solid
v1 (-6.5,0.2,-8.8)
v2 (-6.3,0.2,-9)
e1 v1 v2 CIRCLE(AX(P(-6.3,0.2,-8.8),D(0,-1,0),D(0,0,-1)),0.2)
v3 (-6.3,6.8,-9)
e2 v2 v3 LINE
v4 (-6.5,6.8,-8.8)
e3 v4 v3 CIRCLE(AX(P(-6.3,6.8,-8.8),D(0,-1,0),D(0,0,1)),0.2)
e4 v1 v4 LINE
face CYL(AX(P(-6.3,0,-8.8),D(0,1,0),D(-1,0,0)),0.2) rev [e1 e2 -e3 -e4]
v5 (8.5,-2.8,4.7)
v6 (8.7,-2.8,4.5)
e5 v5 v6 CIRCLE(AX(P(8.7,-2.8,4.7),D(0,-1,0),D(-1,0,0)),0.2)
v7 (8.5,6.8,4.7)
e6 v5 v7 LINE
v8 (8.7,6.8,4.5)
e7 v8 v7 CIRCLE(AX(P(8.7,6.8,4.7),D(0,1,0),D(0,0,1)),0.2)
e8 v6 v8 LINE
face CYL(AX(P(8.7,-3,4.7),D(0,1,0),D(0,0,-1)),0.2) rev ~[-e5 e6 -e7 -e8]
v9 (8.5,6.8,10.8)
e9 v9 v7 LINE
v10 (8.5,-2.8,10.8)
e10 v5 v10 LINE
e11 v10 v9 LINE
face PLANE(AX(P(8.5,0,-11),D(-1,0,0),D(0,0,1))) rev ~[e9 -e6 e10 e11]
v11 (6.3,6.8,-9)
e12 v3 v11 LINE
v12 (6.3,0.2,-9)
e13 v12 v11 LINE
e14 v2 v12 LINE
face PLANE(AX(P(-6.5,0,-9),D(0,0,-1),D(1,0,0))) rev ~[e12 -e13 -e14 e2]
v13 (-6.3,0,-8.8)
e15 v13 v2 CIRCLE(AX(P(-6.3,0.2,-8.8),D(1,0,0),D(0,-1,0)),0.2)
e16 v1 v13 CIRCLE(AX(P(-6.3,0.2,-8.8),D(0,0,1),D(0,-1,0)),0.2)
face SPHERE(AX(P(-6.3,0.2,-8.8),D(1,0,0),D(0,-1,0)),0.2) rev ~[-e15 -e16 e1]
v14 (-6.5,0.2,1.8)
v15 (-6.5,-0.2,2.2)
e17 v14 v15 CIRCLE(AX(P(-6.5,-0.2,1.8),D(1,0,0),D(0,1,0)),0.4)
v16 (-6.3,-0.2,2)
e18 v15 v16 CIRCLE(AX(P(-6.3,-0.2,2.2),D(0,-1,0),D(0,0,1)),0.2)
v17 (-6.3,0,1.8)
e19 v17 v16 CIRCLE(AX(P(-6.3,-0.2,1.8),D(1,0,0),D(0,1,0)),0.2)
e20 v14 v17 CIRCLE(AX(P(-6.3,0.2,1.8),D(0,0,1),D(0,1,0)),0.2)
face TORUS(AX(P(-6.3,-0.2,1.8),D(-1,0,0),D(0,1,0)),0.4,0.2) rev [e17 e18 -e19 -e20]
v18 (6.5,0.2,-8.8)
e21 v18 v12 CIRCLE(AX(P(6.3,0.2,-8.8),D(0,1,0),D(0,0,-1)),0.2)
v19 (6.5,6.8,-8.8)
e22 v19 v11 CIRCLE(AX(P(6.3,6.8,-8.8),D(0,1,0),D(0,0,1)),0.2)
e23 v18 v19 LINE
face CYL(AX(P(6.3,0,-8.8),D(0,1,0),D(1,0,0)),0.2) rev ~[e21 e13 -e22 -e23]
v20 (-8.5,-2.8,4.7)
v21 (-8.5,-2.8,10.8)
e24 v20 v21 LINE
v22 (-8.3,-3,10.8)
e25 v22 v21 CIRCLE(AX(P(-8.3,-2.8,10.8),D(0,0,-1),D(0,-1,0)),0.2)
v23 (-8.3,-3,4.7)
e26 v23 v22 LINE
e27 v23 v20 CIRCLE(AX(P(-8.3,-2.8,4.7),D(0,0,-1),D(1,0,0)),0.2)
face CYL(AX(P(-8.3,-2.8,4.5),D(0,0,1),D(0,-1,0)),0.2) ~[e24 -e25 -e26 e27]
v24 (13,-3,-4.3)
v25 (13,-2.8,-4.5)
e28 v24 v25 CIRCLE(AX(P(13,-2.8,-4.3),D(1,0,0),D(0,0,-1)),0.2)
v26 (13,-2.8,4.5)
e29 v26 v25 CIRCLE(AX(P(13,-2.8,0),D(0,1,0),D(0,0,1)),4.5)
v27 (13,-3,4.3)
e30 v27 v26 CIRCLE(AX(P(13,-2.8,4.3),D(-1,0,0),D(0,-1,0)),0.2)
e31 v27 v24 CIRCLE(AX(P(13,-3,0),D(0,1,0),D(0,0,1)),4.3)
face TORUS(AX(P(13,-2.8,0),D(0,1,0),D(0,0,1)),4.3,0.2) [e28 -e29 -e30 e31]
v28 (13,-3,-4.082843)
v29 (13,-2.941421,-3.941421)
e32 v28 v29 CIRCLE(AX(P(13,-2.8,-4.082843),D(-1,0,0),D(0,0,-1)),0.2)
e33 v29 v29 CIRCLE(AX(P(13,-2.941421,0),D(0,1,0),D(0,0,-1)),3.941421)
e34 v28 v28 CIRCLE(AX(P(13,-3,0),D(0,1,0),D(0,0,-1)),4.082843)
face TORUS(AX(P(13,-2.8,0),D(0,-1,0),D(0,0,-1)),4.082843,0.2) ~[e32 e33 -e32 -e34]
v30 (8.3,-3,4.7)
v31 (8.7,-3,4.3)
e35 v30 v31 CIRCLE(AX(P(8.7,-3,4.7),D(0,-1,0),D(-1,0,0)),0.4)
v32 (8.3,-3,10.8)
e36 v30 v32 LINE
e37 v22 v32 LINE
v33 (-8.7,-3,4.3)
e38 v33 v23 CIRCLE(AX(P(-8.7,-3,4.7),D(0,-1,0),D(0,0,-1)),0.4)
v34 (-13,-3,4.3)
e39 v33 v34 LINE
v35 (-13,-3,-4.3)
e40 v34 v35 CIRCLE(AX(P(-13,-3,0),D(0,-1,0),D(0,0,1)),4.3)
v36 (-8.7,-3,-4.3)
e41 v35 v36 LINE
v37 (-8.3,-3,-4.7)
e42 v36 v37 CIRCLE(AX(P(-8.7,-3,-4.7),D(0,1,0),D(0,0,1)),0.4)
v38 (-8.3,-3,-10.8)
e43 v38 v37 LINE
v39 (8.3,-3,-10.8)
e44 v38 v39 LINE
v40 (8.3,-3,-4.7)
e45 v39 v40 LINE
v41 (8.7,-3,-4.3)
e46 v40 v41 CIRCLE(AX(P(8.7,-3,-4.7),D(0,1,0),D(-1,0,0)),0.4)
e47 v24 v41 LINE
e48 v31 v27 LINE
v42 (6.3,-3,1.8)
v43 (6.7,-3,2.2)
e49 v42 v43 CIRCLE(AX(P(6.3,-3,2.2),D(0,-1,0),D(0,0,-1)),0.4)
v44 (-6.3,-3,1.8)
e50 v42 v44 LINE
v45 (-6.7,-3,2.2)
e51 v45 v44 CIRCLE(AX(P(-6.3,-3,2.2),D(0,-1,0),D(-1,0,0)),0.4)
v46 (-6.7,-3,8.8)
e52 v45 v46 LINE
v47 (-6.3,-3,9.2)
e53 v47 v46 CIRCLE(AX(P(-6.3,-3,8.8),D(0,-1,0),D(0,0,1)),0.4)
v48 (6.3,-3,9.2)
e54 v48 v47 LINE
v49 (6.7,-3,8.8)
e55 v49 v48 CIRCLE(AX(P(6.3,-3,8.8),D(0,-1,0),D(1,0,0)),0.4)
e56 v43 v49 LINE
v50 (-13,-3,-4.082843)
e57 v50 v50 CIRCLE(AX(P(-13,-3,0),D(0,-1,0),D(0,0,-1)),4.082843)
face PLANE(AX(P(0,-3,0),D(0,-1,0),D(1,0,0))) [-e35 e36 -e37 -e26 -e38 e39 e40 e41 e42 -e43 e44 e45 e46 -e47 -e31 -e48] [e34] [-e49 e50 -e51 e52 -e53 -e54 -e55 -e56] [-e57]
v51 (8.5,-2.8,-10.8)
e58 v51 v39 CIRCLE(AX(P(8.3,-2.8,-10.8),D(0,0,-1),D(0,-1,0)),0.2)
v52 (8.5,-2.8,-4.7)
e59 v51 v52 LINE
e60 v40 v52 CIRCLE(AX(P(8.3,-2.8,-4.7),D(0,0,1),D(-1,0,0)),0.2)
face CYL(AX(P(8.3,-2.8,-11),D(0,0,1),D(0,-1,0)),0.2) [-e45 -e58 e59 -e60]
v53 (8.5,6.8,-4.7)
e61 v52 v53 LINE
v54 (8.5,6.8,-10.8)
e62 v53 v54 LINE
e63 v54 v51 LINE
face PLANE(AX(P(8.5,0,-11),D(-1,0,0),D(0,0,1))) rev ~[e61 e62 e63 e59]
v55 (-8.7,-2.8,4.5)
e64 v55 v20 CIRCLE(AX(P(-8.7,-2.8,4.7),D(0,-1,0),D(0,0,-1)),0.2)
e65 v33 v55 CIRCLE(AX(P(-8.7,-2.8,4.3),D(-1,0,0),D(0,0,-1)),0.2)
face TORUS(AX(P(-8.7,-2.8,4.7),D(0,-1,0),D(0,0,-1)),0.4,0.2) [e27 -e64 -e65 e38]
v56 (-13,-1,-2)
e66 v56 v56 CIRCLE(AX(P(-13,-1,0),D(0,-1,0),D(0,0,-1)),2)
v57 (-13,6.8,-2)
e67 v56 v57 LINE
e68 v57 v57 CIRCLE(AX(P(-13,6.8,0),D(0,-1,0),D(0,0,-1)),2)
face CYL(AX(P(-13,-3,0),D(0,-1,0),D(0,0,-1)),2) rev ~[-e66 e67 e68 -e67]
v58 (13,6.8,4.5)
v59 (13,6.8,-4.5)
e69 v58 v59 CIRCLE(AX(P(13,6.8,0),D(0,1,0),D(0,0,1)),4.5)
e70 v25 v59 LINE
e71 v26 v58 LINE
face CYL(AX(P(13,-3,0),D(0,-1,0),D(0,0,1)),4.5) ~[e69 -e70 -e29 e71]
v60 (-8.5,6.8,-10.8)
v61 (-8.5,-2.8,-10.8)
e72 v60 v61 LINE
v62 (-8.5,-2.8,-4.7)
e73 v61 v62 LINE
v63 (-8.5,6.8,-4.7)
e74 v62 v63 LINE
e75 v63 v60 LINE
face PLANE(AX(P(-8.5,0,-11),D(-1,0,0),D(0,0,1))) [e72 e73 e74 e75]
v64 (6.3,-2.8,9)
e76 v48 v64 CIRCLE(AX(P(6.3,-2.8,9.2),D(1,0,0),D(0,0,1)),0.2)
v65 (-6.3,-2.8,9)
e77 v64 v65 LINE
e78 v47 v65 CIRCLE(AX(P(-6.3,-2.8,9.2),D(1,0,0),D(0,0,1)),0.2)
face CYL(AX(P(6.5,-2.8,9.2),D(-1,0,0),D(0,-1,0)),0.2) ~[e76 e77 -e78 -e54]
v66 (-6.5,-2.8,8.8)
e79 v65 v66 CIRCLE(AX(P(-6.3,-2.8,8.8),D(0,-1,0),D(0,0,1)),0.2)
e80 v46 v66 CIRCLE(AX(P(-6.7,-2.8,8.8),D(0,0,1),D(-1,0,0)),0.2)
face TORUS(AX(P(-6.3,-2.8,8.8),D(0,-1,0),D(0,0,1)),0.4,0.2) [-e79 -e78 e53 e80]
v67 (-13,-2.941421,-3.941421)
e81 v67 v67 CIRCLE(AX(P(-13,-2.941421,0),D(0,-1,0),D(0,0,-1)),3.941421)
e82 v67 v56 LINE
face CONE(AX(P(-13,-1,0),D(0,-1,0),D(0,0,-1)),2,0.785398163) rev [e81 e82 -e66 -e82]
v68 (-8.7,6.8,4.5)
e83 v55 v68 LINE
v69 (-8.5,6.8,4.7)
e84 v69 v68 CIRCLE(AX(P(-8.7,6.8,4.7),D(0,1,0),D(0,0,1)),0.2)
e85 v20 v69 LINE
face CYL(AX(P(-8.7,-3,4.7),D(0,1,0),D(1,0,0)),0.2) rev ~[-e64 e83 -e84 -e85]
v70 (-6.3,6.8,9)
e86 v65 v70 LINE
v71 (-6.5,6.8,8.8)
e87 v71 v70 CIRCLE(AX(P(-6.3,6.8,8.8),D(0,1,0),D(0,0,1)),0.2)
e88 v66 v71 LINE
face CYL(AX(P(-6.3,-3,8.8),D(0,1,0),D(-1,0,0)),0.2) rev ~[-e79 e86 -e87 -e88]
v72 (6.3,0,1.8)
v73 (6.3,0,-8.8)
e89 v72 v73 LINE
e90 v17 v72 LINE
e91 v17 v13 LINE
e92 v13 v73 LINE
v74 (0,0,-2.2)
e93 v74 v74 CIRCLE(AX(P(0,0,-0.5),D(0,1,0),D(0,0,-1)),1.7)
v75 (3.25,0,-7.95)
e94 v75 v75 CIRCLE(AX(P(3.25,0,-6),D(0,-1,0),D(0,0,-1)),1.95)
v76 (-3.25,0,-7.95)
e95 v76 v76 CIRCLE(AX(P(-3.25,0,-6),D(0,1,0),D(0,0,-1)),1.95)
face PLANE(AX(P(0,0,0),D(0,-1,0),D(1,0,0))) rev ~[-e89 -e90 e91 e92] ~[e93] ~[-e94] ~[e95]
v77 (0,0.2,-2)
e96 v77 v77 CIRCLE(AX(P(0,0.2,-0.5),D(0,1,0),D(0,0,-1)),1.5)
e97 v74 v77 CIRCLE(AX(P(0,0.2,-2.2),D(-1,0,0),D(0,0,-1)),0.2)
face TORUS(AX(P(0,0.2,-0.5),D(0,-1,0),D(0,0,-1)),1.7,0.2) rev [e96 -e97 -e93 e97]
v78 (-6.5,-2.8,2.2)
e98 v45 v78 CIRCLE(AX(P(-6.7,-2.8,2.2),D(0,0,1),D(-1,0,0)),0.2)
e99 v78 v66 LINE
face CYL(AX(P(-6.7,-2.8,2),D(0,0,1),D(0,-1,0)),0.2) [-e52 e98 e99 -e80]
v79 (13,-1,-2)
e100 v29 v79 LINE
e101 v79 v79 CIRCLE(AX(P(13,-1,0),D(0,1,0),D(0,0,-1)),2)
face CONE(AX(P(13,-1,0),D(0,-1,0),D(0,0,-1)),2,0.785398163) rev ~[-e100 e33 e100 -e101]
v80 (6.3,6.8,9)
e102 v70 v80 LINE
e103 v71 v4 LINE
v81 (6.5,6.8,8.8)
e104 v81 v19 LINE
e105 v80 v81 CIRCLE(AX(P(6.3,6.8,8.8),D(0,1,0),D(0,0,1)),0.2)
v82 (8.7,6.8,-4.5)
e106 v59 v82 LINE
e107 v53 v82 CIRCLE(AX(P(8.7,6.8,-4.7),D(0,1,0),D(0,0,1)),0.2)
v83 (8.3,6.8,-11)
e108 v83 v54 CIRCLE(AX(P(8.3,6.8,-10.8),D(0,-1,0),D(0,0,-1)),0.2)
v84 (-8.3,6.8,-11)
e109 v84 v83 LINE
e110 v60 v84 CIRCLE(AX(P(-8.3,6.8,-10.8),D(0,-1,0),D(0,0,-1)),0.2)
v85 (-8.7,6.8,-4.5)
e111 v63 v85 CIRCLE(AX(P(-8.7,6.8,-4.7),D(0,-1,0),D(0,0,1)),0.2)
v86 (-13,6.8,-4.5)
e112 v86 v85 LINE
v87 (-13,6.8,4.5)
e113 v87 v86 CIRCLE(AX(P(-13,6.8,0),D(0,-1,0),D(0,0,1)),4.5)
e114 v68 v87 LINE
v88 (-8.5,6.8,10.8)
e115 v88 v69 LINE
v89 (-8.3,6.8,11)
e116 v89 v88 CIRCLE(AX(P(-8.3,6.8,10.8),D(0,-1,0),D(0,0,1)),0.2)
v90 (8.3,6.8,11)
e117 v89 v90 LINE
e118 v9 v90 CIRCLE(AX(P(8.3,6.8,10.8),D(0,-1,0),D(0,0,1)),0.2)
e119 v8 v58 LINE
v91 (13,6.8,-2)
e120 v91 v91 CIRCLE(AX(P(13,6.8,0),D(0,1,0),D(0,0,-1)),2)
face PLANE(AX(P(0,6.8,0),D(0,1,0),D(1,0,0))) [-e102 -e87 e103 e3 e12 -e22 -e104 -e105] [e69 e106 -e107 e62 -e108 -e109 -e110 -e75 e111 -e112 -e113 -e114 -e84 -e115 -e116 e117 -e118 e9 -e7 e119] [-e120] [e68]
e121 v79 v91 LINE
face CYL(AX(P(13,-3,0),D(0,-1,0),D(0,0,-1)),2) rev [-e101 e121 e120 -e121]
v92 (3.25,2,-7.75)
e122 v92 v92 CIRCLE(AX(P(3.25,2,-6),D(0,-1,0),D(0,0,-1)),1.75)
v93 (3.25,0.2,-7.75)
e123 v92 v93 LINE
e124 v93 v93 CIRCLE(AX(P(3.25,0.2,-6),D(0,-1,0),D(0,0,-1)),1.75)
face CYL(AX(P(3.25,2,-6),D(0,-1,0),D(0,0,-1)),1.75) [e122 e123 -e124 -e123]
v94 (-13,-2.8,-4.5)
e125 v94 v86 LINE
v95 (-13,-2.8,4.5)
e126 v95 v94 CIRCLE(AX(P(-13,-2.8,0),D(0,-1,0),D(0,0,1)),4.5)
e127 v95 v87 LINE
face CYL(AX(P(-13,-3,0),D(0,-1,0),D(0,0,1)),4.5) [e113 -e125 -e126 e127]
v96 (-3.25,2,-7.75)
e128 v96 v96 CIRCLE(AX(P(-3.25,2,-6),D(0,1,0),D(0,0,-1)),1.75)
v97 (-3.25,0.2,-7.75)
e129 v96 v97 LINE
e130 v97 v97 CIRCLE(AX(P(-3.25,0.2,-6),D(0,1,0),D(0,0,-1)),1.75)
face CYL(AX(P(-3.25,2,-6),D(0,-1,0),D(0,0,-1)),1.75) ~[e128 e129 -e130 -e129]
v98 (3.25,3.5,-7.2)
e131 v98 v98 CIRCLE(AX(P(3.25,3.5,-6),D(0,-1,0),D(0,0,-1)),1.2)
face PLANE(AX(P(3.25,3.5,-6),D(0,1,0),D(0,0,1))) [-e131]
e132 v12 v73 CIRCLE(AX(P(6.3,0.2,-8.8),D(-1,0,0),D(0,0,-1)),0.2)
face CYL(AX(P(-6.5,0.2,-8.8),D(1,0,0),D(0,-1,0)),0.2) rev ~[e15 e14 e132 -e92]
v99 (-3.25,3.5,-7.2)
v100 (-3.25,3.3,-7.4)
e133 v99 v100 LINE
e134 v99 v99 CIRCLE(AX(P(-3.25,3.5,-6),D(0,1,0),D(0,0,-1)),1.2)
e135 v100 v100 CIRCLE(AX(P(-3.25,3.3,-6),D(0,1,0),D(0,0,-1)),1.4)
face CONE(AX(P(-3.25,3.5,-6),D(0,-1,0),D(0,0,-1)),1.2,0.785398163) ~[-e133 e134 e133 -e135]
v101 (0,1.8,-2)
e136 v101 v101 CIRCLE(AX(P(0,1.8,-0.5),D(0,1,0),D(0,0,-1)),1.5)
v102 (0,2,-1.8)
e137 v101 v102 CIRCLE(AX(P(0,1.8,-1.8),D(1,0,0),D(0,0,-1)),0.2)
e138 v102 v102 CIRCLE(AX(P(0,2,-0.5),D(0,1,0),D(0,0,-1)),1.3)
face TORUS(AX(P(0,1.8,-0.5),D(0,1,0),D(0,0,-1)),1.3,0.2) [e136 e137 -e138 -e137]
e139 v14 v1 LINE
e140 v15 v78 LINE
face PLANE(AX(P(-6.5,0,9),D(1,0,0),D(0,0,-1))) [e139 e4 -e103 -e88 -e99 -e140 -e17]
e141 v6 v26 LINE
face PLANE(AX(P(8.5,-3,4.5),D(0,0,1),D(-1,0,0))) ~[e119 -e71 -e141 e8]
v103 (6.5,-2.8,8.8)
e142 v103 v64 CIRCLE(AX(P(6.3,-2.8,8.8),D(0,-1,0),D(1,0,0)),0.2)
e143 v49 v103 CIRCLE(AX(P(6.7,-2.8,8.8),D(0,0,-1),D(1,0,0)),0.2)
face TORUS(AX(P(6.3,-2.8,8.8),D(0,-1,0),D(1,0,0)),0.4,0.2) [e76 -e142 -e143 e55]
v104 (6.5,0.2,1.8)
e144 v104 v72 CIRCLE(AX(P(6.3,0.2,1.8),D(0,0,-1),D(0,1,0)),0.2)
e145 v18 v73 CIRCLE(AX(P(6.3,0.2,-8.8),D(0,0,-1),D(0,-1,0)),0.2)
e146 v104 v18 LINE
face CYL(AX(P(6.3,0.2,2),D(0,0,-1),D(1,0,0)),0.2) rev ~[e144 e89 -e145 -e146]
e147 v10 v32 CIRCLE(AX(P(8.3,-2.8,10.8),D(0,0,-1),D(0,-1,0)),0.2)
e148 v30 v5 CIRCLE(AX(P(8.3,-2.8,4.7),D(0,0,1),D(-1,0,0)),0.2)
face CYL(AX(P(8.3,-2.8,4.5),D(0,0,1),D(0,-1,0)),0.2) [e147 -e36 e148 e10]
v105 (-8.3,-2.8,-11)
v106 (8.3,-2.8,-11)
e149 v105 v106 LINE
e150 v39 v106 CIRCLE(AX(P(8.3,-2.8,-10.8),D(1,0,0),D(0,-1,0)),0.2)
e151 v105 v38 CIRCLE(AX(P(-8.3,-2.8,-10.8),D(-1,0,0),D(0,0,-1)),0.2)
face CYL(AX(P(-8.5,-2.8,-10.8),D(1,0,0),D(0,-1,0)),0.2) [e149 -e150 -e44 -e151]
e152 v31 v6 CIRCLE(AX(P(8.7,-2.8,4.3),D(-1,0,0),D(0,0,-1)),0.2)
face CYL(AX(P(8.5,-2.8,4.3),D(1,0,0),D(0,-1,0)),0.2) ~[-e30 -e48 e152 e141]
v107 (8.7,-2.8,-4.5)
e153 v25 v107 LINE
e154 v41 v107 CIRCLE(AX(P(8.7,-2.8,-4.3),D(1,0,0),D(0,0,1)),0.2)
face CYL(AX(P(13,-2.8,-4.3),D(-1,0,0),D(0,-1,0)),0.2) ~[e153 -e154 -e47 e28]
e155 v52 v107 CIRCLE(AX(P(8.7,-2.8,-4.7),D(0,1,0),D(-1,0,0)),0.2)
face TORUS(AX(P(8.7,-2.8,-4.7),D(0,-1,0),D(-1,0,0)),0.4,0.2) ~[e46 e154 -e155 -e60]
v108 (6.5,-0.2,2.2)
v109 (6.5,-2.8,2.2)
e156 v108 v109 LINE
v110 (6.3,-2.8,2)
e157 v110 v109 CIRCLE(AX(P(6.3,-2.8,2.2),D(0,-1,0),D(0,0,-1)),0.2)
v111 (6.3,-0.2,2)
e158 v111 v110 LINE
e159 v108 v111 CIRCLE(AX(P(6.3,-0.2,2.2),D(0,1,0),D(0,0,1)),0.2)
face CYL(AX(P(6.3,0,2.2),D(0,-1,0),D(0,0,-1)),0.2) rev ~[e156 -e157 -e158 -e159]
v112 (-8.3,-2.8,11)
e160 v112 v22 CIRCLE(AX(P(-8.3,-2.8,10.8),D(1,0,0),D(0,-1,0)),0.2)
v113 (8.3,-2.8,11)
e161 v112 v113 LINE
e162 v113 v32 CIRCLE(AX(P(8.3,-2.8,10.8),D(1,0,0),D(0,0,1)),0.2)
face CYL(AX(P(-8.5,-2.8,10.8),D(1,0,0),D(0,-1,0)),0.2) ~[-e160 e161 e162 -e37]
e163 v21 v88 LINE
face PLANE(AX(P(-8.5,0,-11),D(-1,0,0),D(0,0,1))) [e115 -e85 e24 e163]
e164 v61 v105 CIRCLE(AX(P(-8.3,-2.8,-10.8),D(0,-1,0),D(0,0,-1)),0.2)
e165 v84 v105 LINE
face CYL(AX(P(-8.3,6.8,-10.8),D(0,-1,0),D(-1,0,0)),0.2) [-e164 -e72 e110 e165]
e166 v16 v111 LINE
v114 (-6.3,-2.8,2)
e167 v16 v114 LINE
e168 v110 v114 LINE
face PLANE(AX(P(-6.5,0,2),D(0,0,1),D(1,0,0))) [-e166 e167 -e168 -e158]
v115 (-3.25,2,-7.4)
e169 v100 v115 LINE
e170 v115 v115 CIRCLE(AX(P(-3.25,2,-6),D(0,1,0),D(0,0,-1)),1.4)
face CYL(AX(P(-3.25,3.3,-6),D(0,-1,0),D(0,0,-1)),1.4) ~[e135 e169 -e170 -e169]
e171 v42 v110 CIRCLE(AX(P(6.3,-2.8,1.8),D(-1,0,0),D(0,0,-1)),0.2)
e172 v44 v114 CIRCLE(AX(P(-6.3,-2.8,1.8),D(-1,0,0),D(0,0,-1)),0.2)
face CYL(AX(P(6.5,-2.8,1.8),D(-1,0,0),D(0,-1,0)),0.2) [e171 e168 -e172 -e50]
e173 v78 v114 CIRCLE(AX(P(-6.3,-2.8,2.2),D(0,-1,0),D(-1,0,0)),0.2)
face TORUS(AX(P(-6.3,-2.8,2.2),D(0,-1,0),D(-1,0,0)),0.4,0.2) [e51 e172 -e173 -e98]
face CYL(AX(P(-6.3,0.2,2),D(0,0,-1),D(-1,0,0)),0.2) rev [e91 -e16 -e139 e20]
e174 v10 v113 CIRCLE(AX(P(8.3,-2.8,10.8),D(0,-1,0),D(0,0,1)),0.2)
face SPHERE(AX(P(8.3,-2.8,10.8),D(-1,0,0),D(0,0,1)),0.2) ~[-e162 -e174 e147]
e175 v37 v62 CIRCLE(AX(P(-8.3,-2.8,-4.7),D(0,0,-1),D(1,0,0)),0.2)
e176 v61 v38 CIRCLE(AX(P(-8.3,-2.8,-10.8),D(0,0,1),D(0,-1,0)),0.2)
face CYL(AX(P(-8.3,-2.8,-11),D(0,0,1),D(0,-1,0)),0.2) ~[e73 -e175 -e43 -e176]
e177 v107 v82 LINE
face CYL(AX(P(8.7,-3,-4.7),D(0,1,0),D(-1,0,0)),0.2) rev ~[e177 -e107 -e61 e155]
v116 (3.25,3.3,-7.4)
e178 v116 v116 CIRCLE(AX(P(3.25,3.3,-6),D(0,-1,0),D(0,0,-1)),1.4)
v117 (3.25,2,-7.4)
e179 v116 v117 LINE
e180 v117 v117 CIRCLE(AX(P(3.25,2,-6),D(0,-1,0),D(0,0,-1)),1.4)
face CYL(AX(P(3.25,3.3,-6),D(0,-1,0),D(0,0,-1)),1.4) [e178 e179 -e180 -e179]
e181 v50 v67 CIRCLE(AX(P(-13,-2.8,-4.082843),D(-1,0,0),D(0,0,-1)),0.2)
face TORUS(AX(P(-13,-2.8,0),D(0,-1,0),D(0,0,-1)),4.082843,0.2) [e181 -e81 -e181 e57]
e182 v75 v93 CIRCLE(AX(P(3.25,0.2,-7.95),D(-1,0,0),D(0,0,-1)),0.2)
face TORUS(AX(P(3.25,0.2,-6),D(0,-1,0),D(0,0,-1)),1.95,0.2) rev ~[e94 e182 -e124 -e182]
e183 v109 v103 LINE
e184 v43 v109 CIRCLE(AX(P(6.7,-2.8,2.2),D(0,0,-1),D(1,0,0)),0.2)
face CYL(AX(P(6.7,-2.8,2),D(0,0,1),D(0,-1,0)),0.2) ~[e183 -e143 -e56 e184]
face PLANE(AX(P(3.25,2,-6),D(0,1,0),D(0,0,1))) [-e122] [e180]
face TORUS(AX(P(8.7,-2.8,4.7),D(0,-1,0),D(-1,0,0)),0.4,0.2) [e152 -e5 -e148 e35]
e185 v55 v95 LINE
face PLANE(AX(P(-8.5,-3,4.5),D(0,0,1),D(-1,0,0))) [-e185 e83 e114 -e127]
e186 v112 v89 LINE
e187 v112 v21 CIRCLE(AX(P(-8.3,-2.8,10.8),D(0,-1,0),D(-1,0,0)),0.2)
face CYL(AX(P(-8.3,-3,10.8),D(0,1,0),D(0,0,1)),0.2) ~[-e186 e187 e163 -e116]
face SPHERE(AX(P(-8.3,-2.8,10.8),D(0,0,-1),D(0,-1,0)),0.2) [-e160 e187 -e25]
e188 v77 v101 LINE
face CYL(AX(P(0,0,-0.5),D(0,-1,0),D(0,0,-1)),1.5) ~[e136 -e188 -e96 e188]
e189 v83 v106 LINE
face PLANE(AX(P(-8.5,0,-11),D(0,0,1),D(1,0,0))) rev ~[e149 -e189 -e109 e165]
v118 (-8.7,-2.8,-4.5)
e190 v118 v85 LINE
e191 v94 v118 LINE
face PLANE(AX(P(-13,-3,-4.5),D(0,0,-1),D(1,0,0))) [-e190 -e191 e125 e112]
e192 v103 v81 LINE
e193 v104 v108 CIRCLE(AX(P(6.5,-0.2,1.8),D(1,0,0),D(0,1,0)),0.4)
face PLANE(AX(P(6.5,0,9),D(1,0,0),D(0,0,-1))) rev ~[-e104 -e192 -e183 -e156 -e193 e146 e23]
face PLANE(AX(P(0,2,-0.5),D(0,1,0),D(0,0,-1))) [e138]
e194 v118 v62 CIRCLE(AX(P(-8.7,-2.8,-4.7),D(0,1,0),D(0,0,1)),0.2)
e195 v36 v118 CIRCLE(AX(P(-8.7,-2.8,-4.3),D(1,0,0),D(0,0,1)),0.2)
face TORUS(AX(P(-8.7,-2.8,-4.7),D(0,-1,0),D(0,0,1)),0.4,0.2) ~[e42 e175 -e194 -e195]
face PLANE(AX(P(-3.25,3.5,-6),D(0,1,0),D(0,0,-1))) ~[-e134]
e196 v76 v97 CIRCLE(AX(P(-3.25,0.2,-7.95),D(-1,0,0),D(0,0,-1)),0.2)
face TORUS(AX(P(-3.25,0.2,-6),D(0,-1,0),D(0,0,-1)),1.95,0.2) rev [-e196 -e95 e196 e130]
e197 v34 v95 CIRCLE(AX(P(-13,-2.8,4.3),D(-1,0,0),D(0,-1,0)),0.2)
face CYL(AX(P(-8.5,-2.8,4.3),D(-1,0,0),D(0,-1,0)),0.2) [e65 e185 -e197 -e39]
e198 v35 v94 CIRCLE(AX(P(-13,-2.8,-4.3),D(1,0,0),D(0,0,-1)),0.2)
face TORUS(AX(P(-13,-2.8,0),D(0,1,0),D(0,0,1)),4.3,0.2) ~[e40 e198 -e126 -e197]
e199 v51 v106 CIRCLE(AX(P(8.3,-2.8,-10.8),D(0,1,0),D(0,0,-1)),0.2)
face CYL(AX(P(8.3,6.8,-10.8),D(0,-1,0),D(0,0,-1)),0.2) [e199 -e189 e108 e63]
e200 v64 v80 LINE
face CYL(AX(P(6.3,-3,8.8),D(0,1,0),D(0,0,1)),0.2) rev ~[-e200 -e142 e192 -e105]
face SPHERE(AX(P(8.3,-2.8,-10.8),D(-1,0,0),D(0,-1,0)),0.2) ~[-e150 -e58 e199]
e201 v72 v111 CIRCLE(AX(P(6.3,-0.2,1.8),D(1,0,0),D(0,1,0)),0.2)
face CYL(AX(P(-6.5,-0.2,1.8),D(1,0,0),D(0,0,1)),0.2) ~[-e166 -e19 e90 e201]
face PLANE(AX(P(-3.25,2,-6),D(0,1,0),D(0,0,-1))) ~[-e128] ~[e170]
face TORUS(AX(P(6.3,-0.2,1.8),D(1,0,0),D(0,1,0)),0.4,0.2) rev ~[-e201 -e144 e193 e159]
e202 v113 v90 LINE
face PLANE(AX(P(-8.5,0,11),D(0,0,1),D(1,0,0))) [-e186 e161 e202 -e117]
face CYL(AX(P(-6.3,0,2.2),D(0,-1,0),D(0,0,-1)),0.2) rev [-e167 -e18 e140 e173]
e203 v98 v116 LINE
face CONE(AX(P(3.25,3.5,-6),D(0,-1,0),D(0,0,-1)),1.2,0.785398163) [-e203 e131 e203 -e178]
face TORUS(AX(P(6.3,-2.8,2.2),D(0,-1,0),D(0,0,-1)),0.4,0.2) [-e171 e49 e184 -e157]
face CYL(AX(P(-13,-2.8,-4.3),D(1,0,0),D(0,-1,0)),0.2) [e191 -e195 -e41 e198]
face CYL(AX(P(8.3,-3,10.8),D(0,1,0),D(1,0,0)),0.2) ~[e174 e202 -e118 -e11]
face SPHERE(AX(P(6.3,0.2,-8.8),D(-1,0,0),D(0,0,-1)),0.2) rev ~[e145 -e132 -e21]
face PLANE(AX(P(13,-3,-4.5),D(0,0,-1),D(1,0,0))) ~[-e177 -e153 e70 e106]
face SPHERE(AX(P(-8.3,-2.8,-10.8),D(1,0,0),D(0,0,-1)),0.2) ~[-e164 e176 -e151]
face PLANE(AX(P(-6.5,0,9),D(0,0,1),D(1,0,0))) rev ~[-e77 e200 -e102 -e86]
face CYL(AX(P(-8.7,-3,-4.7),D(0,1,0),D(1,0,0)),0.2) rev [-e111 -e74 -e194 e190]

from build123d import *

# Parameters (mm, degrees)
SKETCH1_W           = 17
SKETCH1_H           = 22
SKETCH1_W_2         = 13
SKETCH1_H_2         = 18
BOSS_EXTRUDE1_DEPTH = 6.8
SKETCH2_W           = 17
SKETCH2_H           = 22
BOSS_EXTRUDE2_DEPTH = 3
SKETCH5_W           = 13
SKETCH5_H           = 7
CUT_EXTRUDE1_DEPTH  = 16.475464452
SKETCH6_R           = 1.5
BOSS_EXTRUDE3_DEPTH = 2
SKETCH7_R           = 2
BOSS_EXTRUDE4_DEPTH = 9.8
CHAMFER1_SIZE       = 2
FILLET1_R           = 0.2


with BuildPart() as part:
    # Sketch1 → Boss-Extrude1 (new body)
    with BuildSketch(Plane(origin=(0, 0, 0), x_dir=(1, 0, 0), z_dir=(0, 1, 0))):
        Rectangle(SKETCH1_W, SKETCH1_H)
        Rectangle(SKETCH1_W_2, SKETCH1_H_2, mode=Mode.SUBTRACT)
    extrude(amount=BOSS_EXTRUDE1_DEPTH)

    # Sketch2 → Boss-Extrude2 (add)
    with BuildSketch(Plane.XZ):
        Rectangle(SKETCH2_W, SKETCH2_H)
    extrude(amount=BOSS_EXTRUDE2_DEPTH)

    # Sketch4 → Revolve1 (revolve)
    with BuildSketch(Plane.XY.offset(-6), mode=Mode.PRIVATE) as revolve1_sk:
        Polygon((-3.25, 0), (-3.25, 3.5), (-4.45, 3.5), (-4.65, 3.3), (-4.65, 2), (-5, 2), (-5, 0), align=None)
    revolve1 = revolve(revolve1_sk.sketch.rotate(Axis((-3.25, 0, -6), (0, 1, 0)), 270), axis=Axis((-3.25, 0, -6), (0, 1, 0)))

    # Mirror1: Revolve1 across plane
    add(revolve1.mirror(Plane(origin=(0, 0, 0), x_dir=(0, 0, 1), z_dir=(1, 0, 0))))

    # Sketch5 → Cut-Extrude1 (cut, through all)
    with BuildSketch(Plane(origin=(0, 0, 0), x_dir=(1, 0, 0), z_dir=(0, 1, 0))):
        with Locations((0, -5.5)):
            Rectangle(SKETCH5_W, SKETCH5_H)
    extrude(amount=-CUT_EXTRUDE1_DEPTH, mode=Mode.SUBTRACT)

    # Sketch6 → Boss-Extrude3 (add)
    with BuildSketch(Plane(origin=(0, 0, 0), x_dir=(1, 0, 0), z_dir=(0, 1, 0))):
        with Locations(Location((0, 0.5, 0), (0, 0, 90))):
            Circle(SKETCH6_R)
    extrude(amount=BOSS_EXTRUDE3_DEPTH)

    # Sketch7 → Boss-Extrude4 (add)
    with BuildSketch(Plane.XZ.offset(3)):
        with BuildLine():
            Line((-8.5, 4.5), (-13, 4.5))
            ThreePointArc((-13, 4.5), (-17.5, 0), (-13, -4.5))
            Line((-13, -4.5), (-8.5, -4.5))
            Line((-8.5, -4.5), (-8.5, 4.5))
        make_face()
        with Locations(Location((-13, 0, 0), (0, 0, 270))):
            Circle(SKETCH7_R, mode=Mode.SUBTRACT)
    boss_extrude4 = extrude(amount=-BOSS_EXTRUDE4_DEPTH)

    # Mirror2: Boss-Extrude4 across plane
    add(boss_extrude4.mirror(Plane(origin=(0, 0, 0), x_dir=(0, 0, 1), z_dir=(1, 0, 0))))

    # Chamfer1
    chamfer1_edges = [part.edges().sort_by_distance(p)[0] for p in [
        (13, -3, 2),
        (-13, -3, 2),
    ]]
    chamfer(chamfer1_edges, length=CHAMFER1_SIZE)

    # Fillet1
    fillet1_edges = [part.edges().sort_by_distance(p)[0] for p in [
        (13, -3, 4),
        (-13, -3, 4),
        (6.5, 1.9, 9),
        (0, 0, -9),
        (6.5, 3.4, -9),
        (-6.5, 0, -3.5),
        (-6.5, 3.4, -9),
        (-6.5, 1.9, 9),
        (-8.5, -3, 7.75),
        (0, -3, -11),
        (8.5, -3, -7.75),
        (0, -3, 11),
        (-3.25, 0, -4.25),
        (3.25, 0, -4.25),
        (6.5, 0, -3.5),
        (6.5, -3, 5.5),
        (6.5, -1.5, 2),
        (0, -3, 9),
        (-6.5, -3, 5.5),
        (0, -3, 2),
        (-6.5, -1.5, 2),
        (0, 0, 2),
        (0, 0, 1),
        (0, 2, 1),
        (-8.5, 1.9, 11),
        (-8.5, 1.9, -11),
        (8.5, 1.9, -11),
        (-8.5, -3, -7.75),
        (8.5, 1.9, 11),
        (-8.5, 1.9, 4.5),
        (-8.5, 1.9, -4.5),
        (-10.75, -3, 4.5),
        (-17.5, -3, 0),
        (-10.75, -3, -4.5),
        (8.5, -3, 7.75),
        (10.75, -3, -4.5),
        (17.5, -3, 0),
        (8.5, 1.9, 4.5),
        (10.75, -3, 4.5),
        (8.5, 1.9, -4.5),
    ]]
    fillet(fillet1_edges, radius=FILLET1_R)


solid = part.part
